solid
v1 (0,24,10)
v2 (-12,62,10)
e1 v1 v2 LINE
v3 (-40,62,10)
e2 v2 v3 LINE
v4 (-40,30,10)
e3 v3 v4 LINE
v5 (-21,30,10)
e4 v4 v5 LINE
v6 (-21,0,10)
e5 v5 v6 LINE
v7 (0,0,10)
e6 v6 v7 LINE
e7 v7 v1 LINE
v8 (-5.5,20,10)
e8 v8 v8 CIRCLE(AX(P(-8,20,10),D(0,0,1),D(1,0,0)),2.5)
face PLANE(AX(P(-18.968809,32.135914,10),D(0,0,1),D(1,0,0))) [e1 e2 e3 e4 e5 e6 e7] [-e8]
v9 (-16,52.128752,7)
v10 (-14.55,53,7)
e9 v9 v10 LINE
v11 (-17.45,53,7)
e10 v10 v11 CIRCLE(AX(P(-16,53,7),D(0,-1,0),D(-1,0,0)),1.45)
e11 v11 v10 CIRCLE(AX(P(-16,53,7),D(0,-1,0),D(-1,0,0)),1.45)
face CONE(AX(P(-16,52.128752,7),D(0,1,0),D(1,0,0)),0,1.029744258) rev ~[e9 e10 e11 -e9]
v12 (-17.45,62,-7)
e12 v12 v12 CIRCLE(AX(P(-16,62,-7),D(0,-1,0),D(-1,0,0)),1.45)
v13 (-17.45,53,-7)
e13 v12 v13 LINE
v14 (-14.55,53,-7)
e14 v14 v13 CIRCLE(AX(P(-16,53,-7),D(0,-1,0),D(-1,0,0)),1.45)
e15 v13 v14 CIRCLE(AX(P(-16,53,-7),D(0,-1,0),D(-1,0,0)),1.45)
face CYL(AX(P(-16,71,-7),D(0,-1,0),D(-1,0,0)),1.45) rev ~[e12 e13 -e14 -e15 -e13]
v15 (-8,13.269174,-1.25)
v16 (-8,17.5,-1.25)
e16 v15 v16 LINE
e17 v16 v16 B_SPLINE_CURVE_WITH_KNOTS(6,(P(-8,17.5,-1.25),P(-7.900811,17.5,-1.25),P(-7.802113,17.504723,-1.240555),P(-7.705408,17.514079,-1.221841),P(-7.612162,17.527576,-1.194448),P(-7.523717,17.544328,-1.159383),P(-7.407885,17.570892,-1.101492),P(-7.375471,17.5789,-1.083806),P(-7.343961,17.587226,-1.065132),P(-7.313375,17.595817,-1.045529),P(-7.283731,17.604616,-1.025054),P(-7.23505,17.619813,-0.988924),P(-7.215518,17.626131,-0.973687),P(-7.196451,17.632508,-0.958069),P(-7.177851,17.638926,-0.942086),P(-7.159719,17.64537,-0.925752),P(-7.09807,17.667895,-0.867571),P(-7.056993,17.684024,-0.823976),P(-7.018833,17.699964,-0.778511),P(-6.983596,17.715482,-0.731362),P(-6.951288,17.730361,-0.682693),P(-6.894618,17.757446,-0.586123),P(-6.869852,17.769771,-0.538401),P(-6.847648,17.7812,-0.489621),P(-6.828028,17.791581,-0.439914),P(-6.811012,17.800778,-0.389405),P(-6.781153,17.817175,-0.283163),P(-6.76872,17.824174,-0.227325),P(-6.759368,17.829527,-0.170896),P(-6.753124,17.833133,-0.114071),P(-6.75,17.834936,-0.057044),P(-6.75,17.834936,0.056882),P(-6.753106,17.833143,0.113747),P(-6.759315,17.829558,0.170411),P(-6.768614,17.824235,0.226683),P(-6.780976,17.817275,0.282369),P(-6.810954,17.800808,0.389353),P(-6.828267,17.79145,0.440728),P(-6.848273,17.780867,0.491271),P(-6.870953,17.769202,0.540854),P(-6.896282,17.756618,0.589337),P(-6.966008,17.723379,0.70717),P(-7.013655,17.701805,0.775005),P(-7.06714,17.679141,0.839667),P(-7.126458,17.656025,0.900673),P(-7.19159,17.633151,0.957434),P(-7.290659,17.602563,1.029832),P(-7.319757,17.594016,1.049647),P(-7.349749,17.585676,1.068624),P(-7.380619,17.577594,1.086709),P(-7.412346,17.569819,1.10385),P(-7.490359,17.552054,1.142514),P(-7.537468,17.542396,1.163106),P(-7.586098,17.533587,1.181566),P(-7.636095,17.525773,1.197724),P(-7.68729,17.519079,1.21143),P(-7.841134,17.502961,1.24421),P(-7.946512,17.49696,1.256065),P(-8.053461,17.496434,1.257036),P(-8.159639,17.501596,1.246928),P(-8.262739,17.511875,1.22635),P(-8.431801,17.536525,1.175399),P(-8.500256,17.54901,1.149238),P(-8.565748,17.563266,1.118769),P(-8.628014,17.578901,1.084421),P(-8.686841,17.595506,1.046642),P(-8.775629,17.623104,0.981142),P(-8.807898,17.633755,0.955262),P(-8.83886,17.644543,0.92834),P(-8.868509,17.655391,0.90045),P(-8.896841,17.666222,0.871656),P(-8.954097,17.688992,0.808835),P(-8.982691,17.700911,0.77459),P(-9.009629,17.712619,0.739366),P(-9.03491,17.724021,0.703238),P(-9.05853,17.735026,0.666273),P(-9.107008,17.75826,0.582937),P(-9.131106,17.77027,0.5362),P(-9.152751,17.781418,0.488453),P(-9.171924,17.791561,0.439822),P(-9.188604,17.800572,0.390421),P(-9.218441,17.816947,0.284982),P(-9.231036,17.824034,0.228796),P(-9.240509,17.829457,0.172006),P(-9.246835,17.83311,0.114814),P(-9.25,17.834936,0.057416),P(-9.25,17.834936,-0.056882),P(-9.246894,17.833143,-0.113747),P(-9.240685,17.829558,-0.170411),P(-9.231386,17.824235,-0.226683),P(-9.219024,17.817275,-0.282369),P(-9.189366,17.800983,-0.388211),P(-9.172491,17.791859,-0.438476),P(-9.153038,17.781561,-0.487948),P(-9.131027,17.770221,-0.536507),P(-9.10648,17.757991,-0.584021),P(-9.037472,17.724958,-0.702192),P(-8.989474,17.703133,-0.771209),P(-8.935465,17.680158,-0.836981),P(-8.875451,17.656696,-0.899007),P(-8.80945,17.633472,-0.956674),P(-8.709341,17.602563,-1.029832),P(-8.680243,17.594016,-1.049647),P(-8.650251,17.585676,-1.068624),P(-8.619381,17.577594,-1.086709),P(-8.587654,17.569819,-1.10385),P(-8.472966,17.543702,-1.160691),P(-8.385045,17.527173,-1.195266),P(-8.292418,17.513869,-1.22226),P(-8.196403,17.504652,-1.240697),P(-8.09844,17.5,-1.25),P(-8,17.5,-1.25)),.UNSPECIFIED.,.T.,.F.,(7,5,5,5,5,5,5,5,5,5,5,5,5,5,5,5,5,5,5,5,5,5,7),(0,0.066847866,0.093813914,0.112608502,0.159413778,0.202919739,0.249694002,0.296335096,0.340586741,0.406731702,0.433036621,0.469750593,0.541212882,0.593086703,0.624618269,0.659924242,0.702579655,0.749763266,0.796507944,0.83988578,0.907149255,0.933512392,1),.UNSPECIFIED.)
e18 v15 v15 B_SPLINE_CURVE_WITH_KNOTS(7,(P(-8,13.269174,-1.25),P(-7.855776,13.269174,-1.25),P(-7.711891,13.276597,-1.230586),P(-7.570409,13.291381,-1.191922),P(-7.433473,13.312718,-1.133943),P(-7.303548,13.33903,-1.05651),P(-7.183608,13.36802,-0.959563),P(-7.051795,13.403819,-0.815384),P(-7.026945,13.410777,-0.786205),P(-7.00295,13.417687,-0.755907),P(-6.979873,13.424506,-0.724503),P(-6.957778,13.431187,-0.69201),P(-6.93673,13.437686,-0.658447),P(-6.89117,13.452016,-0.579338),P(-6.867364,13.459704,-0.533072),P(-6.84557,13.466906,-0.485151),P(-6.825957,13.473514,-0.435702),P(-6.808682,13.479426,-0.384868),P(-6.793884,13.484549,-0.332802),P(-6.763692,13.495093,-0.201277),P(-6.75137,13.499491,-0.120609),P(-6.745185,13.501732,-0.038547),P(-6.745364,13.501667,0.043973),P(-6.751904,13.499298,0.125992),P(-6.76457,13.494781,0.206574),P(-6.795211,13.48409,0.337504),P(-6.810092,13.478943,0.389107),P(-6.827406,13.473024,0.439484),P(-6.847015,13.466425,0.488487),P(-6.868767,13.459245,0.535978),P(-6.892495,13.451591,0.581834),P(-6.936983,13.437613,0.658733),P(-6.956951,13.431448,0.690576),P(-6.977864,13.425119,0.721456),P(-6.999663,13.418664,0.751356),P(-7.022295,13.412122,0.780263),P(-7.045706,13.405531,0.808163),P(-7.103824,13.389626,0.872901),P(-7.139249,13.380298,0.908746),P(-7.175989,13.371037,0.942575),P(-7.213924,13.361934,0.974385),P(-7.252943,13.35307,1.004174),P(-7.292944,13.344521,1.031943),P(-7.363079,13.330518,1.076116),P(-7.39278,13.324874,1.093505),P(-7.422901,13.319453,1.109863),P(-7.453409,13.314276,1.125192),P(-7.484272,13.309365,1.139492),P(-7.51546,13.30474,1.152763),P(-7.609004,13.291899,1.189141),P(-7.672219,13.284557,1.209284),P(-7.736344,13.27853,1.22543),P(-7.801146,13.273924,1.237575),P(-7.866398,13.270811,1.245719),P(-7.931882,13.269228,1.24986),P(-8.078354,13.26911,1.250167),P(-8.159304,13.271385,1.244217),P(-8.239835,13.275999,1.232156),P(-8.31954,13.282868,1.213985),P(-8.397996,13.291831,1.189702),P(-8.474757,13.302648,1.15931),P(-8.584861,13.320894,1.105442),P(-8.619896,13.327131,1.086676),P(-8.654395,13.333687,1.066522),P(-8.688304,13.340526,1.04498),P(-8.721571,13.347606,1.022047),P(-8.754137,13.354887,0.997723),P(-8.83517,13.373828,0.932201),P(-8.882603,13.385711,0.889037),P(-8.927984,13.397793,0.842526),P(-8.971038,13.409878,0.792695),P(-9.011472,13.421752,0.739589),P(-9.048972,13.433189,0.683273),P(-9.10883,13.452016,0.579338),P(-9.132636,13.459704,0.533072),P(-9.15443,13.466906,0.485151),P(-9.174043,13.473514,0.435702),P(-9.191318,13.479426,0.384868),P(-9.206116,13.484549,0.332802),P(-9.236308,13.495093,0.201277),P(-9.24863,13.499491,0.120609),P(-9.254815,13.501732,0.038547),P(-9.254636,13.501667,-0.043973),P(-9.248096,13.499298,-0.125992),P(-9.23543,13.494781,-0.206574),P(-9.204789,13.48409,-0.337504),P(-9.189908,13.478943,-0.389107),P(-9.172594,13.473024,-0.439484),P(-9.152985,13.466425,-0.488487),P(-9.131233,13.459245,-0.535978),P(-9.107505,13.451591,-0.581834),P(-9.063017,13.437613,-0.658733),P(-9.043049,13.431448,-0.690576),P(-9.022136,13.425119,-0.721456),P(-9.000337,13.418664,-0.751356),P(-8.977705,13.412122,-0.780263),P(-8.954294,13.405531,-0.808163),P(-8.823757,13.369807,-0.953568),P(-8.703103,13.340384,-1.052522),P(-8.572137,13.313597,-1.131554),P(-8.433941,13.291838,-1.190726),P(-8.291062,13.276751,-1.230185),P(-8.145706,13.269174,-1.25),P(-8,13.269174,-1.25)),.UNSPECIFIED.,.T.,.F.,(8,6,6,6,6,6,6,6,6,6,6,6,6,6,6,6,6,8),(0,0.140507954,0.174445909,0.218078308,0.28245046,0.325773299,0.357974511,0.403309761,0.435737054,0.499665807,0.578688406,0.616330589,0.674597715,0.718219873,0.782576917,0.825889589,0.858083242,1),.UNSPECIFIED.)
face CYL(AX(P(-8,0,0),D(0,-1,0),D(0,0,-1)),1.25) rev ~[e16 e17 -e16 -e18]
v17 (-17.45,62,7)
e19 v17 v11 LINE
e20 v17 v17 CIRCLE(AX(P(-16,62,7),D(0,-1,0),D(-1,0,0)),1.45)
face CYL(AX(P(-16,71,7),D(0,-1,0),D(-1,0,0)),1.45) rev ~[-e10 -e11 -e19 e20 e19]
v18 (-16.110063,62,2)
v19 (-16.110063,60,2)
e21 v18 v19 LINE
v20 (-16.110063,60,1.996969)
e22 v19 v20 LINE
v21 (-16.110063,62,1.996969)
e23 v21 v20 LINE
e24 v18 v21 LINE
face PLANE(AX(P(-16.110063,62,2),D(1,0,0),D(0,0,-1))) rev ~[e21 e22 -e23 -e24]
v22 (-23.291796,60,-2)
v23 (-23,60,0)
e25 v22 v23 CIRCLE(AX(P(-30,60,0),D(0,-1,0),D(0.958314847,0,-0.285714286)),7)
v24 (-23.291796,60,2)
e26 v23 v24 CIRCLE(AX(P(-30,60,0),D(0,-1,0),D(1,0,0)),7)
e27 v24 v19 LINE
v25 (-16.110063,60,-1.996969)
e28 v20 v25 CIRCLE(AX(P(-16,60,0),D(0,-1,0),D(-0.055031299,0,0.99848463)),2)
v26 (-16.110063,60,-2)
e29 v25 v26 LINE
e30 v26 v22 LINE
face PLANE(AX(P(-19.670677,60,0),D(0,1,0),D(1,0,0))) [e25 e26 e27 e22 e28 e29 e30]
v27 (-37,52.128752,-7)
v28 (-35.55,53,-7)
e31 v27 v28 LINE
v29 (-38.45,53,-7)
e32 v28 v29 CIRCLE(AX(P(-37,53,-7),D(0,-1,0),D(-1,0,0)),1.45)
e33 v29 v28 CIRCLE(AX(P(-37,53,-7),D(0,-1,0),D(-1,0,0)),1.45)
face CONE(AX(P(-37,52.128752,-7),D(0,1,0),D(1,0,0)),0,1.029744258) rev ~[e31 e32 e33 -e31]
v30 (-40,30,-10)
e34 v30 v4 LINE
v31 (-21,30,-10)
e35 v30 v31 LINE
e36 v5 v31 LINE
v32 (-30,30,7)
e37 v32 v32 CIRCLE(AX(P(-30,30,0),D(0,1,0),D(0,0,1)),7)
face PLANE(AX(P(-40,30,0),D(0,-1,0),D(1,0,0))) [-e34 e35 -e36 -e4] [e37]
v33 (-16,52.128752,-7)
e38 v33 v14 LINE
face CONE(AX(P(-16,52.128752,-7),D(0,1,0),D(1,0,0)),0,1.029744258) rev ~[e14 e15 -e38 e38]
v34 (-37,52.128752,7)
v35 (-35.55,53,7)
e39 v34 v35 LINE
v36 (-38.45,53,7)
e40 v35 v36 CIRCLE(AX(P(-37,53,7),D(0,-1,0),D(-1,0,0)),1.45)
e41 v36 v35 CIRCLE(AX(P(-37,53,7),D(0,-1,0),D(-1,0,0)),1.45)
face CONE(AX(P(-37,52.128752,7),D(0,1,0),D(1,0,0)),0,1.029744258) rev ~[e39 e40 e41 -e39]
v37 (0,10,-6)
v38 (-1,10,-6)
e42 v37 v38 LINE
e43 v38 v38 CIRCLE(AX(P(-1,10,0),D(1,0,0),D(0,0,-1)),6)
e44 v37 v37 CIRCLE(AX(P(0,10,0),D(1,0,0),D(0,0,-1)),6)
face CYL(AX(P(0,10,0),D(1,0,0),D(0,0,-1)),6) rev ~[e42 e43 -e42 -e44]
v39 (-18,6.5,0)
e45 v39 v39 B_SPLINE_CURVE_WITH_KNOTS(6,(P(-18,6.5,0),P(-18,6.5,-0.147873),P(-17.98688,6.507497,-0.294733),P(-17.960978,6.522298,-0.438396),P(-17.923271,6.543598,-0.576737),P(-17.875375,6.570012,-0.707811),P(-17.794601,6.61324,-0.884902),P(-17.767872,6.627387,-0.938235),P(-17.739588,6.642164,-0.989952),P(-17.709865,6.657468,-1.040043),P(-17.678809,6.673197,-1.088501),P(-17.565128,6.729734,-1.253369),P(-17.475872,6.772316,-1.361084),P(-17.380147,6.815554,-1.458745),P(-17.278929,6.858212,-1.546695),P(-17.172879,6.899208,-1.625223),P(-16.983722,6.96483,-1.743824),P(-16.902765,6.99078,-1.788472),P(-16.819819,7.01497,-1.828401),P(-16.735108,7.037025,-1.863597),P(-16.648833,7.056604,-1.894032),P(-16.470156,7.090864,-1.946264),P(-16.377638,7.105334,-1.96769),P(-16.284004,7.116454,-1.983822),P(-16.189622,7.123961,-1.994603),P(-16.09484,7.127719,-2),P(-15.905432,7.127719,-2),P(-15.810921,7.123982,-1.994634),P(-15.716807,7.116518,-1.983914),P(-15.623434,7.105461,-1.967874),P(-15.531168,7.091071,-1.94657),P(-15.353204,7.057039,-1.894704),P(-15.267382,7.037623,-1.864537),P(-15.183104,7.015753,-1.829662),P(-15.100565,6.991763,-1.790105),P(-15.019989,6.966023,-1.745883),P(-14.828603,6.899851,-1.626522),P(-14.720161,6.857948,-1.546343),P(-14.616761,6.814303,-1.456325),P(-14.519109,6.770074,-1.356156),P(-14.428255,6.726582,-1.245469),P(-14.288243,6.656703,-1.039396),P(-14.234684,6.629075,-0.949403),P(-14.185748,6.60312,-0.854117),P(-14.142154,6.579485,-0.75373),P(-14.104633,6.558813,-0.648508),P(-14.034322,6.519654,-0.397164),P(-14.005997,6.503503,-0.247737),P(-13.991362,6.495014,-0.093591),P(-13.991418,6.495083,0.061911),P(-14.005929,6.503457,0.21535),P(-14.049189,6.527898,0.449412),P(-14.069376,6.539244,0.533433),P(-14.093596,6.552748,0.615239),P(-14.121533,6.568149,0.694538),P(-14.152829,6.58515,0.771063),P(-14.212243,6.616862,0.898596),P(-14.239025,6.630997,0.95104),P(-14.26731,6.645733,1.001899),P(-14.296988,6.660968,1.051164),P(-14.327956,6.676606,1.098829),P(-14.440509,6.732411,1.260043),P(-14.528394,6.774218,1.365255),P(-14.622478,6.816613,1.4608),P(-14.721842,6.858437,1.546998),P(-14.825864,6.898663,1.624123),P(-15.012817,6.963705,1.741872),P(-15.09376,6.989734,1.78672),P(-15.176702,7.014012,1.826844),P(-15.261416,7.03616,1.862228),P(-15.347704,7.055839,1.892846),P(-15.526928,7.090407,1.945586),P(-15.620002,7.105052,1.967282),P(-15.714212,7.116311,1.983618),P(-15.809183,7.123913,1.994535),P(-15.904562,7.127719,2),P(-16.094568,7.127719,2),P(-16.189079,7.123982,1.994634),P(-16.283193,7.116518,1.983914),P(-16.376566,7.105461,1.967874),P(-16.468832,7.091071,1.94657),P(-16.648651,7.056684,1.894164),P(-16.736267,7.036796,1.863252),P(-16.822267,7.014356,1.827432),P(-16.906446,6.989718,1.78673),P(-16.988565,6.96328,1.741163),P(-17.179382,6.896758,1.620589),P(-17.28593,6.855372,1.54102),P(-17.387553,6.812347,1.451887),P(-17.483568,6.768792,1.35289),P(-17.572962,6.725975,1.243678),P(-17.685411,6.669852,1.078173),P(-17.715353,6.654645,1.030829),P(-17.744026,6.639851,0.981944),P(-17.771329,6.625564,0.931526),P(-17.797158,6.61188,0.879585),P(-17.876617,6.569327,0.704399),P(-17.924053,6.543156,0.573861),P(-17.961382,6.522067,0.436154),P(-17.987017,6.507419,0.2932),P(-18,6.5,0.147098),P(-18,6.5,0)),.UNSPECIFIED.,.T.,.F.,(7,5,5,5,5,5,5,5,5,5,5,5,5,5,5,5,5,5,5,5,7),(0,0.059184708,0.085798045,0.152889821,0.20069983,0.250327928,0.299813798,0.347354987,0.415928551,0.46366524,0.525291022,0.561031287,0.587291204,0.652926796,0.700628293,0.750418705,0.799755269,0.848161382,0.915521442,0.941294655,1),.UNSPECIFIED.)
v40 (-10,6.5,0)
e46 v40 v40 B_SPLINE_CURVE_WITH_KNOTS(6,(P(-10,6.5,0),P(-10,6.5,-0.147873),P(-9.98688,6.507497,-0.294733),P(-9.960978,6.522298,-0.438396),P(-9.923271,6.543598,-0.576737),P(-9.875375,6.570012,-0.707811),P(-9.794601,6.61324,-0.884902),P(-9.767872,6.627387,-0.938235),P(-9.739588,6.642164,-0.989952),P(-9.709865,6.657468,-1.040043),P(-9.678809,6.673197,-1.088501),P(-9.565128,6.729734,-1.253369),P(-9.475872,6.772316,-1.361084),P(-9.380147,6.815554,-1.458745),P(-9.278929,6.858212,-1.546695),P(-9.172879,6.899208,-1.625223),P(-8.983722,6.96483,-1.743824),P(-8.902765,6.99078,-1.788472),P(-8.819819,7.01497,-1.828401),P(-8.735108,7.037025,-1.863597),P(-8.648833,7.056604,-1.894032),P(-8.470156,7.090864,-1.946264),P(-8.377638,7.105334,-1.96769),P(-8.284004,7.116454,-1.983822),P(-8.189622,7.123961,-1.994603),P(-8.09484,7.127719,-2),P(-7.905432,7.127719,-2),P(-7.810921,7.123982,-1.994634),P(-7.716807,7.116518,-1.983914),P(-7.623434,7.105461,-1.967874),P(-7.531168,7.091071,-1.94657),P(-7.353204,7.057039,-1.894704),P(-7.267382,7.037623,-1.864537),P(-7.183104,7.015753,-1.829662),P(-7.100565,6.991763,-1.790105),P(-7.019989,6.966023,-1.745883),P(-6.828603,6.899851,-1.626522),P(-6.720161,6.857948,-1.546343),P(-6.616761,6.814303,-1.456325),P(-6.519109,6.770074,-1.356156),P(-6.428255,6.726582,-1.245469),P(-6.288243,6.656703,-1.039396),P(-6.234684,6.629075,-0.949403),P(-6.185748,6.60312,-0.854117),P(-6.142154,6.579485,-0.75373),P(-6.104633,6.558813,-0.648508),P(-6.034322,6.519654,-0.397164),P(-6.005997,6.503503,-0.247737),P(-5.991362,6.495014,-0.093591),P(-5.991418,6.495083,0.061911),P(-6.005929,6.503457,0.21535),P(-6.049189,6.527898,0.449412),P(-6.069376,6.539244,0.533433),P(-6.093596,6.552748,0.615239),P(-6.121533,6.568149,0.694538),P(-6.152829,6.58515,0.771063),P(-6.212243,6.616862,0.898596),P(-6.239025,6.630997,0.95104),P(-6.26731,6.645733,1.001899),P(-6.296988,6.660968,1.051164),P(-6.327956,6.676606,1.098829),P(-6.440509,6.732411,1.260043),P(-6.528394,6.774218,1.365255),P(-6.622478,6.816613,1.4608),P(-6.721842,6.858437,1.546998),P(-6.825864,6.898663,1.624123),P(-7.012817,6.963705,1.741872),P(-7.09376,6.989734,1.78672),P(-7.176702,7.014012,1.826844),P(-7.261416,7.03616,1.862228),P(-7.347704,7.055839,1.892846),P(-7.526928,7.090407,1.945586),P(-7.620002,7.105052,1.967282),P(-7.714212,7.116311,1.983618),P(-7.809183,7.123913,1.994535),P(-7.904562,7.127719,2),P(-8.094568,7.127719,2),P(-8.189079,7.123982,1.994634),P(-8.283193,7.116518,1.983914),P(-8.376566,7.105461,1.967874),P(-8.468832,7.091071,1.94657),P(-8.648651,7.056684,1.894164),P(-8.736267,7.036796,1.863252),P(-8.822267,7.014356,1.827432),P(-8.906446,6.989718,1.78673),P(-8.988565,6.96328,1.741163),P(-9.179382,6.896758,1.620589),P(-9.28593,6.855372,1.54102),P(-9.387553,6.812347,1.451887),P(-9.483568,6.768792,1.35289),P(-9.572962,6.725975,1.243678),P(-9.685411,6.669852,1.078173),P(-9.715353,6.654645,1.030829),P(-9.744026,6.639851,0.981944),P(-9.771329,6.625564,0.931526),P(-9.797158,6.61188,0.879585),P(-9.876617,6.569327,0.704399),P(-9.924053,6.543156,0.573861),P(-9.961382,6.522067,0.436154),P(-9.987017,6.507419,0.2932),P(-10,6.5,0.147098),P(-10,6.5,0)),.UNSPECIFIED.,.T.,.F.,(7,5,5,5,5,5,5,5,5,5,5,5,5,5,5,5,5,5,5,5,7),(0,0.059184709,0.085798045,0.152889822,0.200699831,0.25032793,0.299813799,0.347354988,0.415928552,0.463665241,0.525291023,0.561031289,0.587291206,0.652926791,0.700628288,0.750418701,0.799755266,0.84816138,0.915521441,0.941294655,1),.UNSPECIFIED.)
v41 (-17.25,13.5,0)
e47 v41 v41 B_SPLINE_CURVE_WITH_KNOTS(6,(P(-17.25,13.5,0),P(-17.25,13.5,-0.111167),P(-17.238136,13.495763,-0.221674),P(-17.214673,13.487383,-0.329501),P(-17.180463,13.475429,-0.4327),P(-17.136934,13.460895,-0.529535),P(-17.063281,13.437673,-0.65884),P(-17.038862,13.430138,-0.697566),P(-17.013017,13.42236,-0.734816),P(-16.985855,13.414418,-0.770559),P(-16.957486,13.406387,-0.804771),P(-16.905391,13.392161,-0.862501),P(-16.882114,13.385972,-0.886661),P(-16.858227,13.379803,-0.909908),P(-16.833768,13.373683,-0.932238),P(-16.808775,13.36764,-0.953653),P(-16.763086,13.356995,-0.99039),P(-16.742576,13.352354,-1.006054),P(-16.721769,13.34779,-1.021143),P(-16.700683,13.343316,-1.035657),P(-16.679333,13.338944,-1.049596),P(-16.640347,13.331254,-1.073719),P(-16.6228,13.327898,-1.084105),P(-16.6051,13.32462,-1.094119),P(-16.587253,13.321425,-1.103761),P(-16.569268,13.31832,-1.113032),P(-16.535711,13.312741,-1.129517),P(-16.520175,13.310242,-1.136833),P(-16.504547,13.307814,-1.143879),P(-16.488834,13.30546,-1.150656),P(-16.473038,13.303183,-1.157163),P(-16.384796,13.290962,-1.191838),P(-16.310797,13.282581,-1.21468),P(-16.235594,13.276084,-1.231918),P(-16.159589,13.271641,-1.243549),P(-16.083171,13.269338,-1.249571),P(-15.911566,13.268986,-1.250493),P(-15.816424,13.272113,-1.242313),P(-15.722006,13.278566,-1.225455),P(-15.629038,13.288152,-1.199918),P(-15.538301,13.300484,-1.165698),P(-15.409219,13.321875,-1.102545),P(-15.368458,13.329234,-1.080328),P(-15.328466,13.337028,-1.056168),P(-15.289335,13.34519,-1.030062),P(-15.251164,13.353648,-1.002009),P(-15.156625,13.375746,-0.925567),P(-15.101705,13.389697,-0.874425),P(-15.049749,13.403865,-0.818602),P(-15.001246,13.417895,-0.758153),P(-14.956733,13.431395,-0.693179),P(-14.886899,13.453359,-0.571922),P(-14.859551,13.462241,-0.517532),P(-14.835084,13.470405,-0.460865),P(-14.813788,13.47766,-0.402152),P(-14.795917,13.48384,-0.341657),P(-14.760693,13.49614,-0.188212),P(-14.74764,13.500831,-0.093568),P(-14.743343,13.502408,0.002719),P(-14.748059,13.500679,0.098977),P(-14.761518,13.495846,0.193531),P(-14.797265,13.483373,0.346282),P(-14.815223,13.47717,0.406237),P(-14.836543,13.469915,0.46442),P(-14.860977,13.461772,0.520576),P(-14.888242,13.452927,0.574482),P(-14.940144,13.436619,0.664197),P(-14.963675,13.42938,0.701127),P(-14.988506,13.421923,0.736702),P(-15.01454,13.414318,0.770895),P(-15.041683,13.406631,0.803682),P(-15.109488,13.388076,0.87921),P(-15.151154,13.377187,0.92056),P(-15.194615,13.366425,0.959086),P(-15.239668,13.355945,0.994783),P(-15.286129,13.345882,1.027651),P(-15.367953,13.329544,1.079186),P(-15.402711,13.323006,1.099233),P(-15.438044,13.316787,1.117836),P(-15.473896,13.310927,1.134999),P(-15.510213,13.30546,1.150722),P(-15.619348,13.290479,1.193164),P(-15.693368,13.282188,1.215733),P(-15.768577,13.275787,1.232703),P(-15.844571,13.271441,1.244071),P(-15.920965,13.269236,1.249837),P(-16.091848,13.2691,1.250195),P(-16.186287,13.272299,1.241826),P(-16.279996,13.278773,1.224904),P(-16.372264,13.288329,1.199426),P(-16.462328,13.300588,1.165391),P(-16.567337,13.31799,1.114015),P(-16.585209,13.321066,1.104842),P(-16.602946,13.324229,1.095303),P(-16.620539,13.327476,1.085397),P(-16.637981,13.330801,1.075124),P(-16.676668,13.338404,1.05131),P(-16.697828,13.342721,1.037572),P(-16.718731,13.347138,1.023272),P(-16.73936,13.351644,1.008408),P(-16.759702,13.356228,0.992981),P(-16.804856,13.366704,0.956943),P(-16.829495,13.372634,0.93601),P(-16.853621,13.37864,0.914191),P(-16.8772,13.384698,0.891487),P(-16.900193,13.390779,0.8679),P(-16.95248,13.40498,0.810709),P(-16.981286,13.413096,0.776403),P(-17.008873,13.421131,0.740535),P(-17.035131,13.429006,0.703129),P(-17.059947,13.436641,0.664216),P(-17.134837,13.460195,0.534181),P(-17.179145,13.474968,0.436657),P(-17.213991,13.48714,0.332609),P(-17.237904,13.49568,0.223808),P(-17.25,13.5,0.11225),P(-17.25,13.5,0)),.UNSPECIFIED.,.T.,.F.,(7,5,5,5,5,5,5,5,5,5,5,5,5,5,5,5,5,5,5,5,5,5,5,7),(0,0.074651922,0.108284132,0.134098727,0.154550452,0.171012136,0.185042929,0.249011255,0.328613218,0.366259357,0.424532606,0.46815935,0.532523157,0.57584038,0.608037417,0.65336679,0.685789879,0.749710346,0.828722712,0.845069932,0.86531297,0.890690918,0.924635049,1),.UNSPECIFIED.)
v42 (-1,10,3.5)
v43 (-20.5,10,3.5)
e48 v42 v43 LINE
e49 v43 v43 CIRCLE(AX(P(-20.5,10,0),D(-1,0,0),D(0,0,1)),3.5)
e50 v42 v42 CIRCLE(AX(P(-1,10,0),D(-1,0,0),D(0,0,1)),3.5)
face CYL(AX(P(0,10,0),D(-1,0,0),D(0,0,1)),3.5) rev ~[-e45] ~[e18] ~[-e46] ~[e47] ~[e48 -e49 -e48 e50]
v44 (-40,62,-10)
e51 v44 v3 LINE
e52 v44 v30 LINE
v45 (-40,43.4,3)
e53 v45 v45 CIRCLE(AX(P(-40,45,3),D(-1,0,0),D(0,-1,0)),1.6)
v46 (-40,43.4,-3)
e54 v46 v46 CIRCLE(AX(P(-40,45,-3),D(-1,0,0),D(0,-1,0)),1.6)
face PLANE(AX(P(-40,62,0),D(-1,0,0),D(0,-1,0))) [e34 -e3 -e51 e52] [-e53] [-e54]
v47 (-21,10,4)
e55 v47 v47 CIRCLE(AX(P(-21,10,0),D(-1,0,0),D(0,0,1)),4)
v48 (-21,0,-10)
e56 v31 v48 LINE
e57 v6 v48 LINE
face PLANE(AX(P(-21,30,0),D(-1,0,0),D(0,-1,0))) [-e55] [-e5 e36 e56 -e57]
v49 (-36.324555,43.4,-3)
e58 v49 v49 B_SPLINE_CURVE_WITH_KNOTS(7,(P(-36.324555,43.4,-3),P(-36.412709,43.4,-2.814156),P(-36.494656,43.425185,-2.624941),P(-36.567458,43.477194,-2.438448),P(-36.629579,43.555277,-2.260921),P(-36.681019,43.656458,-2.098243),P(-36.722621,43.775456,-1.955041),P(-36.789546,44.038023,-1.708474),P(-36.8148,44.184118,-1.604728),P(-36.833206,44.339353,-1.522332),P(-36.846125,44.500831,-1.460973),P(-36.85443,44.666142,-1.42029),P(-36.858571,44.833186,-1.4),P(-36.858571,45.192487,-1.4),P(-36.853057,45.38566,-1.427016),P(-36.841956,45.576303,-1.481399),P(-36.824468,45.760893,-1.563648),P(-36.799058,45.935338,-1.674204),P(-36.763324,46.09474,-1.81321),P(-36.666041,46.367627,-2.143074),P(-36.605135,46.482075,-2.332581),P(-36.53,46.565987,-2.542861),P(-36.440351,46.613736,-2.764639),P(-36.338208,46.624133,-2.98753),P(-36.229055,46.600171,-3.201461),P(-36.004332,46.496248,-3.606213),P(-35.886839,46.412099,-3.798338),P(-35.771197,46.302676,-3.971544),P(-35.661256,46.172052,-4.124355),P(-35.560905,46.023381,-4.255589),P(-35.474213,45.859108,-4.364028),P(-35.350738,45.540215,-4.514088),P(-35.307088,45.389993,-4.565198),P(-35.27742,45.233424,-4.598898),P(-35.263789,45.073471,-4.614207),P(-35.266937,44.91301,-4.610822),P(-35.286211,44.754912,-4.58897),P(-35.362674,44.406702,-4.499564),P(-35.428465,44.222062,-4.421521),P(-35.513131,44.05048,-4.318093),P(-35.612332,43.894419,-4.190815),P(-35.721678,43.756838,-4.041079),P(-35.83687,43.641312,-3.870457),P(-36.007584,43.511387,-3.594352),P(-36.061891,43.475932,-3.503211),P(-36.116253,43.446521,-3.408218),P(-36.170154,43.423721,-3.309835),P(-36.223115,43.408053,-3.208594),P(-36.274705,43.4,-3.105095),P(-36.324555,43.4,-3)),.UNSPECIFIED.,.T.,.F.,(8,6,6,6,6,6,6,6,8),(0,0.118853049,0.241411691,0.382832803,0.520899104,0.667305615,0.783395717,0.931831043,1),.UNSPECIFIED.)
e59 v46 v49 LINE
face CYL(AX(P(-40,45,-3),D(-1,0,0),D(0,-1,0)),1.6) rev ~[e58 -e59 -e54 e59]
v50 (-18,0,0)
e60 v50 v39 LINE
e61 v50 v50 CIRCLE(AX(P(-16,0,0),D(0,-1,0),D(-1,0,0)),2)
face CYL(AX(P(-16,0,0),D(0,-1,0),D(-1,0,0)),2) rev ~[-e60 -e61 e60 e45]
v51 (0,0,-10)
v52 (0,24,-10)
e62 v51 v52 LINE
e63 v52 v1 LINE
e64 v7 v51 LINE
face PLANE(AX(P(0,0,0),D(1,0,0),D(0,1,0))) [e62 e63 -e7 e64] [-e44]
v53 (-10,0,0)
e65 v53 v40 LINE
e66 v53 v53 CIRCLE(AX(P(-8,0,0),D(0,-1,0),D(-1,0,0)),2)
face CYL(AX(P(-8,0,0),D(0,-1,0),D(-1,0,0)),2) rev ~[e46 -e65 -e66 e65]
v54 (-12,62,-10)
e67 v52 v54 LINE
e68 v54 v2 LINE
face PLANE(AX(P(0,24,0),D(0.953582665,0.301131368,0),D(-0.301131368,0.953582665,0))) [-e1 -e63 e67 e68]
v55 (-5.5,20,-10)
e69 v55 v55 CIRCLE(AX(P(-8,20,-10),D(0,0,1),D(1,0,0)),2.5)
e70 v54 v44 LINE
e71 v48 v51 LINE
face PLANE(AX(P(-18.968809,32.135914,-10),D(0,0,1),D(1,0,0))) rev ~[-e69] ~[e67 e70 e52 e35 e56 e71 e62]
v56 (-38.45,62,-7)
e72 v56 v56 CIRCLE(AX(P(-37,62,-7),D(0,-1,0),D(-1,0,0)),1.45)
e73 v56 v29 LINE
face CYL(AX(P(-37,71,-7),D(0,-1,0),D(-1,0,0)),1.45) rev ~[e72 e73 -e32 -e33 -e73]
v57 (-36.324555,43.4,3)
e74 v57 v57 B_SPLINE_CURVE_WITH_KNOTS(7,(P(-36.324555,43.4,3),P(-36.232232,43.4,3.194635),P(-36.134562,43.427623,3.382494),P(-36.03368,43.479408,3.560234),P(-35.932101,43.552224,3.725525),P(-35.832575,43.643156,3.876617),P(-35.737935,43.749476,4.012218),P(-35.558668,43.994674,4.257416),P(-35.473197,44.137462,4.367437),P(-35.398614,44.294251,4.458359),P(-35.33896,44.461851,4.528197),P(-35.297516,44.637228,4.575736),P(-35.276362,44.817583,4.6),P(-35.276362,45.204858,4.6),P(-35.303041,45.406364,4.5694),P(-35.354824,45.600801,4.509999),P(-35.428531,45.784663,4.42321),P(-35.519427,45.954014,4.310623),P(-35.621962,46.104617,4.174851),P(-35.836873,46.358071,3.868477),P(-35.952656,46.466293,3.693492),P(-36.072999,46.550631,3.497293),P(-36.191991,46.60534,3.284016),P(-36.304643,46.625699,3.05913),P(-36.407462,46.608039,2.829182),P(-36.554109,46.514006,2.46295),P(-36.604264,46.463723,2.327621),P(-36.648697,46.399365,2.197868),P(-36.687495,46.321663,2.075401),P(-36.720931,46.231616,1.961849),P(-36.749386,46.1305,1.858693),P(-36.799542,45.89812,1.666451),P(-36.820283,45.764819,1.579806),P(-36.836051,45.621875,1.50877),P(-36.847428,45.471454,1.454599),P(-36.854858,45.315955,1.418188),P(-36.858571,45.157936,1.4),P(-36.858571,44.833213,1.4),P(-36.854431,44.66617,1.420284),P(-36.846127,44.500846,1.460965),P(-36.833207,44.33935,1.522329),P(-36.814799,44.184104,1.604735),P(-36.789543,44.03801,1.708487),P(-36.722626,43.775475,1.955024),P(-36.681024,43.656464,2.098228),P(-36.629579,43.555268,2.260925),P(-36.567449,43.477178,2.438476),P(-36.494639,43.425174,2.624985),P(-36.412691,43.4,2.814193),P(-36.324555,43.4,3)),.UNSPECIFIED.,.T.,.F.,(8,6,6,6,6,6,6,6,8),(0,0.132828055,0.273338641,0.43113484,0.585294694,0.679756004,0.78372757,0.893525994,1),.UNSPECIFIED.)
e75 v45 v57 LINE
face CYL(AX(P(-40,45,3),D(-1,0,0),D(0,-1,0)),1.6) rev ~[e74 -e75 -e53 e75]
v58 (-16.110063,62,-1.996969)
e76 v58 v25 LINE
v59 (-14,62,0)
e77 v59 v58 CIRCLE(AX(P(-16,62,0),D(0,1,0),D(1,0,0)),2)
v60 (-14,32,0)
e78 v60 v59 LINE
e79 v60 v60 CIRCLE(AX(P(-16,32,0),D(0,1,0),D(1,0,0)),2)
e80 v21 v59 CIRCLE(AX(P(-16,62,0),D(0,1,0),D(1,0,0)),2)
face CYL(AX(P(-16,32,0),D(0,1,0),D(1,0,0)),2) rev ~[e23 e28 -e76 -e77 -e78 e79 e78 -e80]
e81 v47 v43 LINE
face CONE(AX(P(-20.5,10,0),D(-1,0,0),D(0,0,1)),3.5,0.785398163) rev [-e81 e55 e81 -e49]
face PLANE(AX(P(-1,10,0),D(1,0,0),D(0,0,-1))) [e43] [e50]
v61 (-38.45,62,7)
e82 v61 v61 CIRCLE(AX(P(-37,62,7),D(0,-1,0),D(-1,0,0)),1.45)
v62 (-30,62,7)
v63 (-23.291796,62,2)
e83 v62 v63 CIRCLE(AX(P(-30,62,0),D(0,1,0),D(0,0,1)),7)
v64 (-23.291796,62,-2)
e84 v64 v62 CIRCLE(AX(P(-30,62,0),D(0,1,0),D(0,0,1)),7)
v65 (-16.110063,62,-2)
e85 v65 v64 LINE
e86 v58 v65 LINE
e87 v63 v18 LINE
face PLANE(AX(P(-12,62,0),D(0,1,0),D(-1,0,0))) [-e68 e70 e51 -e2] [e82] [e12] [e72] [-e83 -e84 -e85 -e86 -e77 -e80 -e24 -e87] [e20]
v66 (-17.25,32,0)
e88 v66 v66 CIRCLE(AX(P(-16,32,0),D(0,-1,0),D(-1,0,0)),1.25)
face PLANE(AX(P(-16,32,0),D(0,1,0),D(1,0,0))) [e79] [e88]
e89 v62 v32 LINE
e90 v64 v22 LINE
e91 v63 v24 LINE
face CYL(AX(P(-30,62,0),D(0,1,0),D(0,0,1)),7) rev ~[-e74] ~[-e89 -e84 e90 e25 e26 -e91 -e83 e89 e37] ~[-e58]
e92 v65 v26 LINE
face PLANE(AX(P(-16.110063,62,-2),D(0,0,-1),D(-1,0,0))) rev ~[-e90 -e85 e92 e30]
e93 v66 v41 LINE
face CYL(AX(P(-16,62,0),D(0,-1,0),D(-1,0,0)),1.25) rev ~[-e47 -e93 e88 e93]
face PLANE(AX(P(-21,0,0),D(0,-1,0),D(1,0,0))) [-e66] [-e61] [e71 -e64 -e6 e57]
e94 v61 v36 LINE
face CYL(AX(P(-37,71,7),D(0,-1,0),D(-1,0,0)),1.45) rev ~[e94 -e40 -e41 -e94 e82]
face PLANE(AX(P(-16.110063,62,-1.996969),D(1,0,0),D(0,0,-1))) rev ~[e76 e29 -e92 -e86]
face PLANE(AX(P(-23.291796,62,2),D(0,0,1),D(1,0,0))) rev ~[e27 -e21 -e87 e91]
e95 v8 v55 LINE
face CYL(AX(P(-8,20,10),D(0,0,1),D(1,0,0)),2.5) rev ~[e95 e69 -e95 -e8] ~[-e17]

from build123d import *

# Parameters (mm, degrees)
BOSS_EXTRUDE1_DEPTH                                  = 10
CUT_EXTRUDE1_REACH                                   = 76.458
SKETCH2_R                                            = 7
CSK_FOR_M8_FLAT_HEAD_MACHINE_SCREW1_D                = 7
CSK_FOR_M8_FLAT_HEAD_MACHINE_SCREW1_CSINK_D          = 8
CSK_FOR_M8_FLAT_HEAD_MACHINE_SCREW1_CSINK_ANGLE      = 90
M4X0_7_TAPPED_HOLE1_REACH                            = 76.458
M4X0_7_TAPPED_HOLE1_BORE_R                           = 2
CUT_EXTRUDE2_REACH                                   = 78.446
SKETCH8_R                                            = 2.5
CUT_EXTRUDE3_REACH                                   = 76.458
CUT_EXTRUDE3_END_RADIUS                              = 2.5
SKETCH9_R                                            = 1.25
TAP_DRILL_FOR_M3_5X0_6_TAP1_D                        = 2.9
TAP_DRILL_FOR_M3_5X0_6_TAP1_DEPTH                    = 9
TAP_DRILL_FOR_M3_5X0_6_TAP1_TIP                      = 0.871247898
CUT_EXTRUDE4_REACH                                   = 76.458
CUT_EXTRUDE4_END_RADIUS                              = 7
SKETCH14_R                                           = 1.6
CBORE_FOR_M4_CROSS_RECESS_PAN_HEAD_SCREW_D           = 2.5
CBORE_FOR_M4_CROSS_RECESS_PAN_HEAD_SCREW_CBORE_D     = 4
CBORE_FOR_M4_CROSS_RECESS_PAN_HEAD_SCREW_CBORE_DEPTH = 30
CUT_EXTRUDE5_DEPTH                                   = 2
SKETCH18_R                                           = 6
CUT_EXTRUDE6_DEPTH                                   = 1
CHAMFER1_SIZE                                        = 0.5


with BuildPart() as part:
    # Sketch1 → Boss-Extrude1 (new, symmetric)
    with BuildSketch(Plane.XY):
        Polygon((0, 0), (0, 24), (-12, 62), (-40, 62), (-40, 30), (-21, 30), (-21, 0), align=None)
    extrude(amount=BOSS_EXTRUDE1_DEPTH, both=True)

    # Sketch2 → Cut-Extrude1 (cut, up to next)
    with BuildSketch(Plane(origin=(0, 62, 0), x_dir=(1, 0, 0), z_dir=(0, 1, 0)), mode=Mode.PRIVATE) as cut_extrude1_sk1:
        with Locations(Location((-30, 0, 0), (0, 0, 270))):
            Circle(SKETCH2_R)
    cut_extrude1_tool1 = extrude(cut_extrude1_sk1.sketch, amount=-CUT_EXTRUDE1_REACH, mode=Mode.PRIVATE) & part.part
    add(cut_extrude1_tool1.solids().sort_by_distance((-30, 62, 0))[0], mode=Mode.SUBTRACT)

    # CSK for M8 Flat Head Machine Screw1 (through all)
    with Locations(Plane(origin=(0, 0, 0), x_dir=(0, 0, -1), z_dir=(1, 0, 0))):
        with Locations((0, 10)):
            CounterSinkHole(CSK_FOR_M8_FLAT_HEAD_MACHINE_SCREW1_D / 2, CSK_FOR_M8_FLAT_HEAD_MACHINE_SCREW1_CSINK_D / 2, counter_sink_angle=CSK_FOR_M8_FLAT_HEAD_MACHINE_SCREW1_CSINK_ANGLE)

    # M4x0.7 Tapped Hole1 bore → M4x0.7 Tapped Hole1 (cut, up to next)
    with BuildSketch(Plane(origin=(0, 0, 0), x_dir=(-1, 0, 0), z_dir=(0, -1, 0)), mode=Mode.PRIVATE) as m4x0_7_tapped_hole1_sk1:
        with Locations((8, 0)):
            Circle(M4X0_7_TAPPED_HOLE1_BORE_R)
    m4x0_7_tapped_hole1_tool1 = extrude(m4x0_7_tapped_hole1_sk1.sketch, amount=-M4X0_7_TAPPED_HOLE1_REACH, mode=Mode.PRIVATE) & part.part
    # M4x0.7 Tapped Hole1 bore → M4x0.7 Tapped Hole1 (cut, up to next)
    with BuildSketch(Plane(origin=(0, 0, 0), x_dir=(-1, 0, 0), z_dir=(0, -1, 0)), mode=Mode.PRIVATE) as m4x0_7_tapped_hole1_sk2:
        with Locations((16, 0)):
            Circle(M4X0_7_TAPPED_HOLE1_BORE_R)
    m4x0_7_tapped_hole1_tool2 = extrude(m4x0_7_tapped_hole1_sk2.sketch, amount=-M4X0_7_TAPPED_HOLE1_REACH, mode=Mode.PRIVATE) & part.part
    add(m4x0_7_tapped_hole1_tool1.solids().sort_by_distance((-8, 0, 0))[0], mode=Mode.SUBTRACT)
    add(m4x0_7_tapped_hole1_tool2.solids().sort_by_distance((-16, 0, 0))[0], mode=Mode.SUBTRACT)

    # Sketch8 → Cut-Extrude2 (cut, up to next)
    with BuildSketch(Plane.XY.offset(10), mode=Mode.PRIVATE) as cut_extrude2_sk1:
        with Locations((-8, 20)):
            Circle(SKETCH8_R)
    cut_extrude2_tool1 = extrude(cut_extrude2_sk1.sketch, amount=-CUT_EXTRUDE2_REACH, mode=Mode.PRIVATE) & part.part
    add(cut_extrude2_tool1.solids().sort_by_distance((-8, 20, 10))[0], mode=Mode.SUBTRACT)

    # Cut-Extrude3: up to this cylinder (the profile starts outside it)
    cut_extrude3_end = Plane(origin=(-8, 20, 0), z_dir=(0, 0, 1)) * Cylinder(CUT_EXTRUDE3_END_RADIUS, 158.916, mode=Mode.PRIVATE)
    # Sketch9 → Cut-Extrude3 (cut, up to the surface)
    with BuildSketch(Plane.XZ, mode=Mode.PRIVATE) as cut_extrude3_sk1:
        with Locations(Location((-8, 0, 0), (0, 0, 270))):
            Circle(SKETCH9_R)
    cut_extrude3_tool1 = extrude(cut_extrude3_sk1.sketch, amount=-CUT_EXTRUDE3_REACH, mode=Mode.PRIVATE) - cut_extrude3_end
    add(cut_extrude3_tool1.solids().sort_by_distance((-8, 0, 0))[0], mode=Mode.SUBTRACT)

    # Tap Drill for M3.5x0.6 Tap1
    with Locations(Plane(origin=(0, 62, 0), x_dir=(1, 0, 0), z_dir=(0, 1, 0))):
        with Locations((-37, 7), (-16, 7), (-16, -7), (-37, -7)):
            Hole(TAP_DRILL_FOR_M3_5X0_6_TAP1_D / 2, depth=TAP_DRILL_FOR_M3_5X0_6_TAP1_DEPTH)
            with Locations((0, 0, -(TAP_DRILL_FOR_M3_5X0_6_TAP1_DEPTH + TAP_DRILL_FOR_M3_5X0_6_TAP1_TIP / 2))):  # 118° drill point
                Cone(0, TAP_DRILL_FOR_M3_5X0_6_TAP1_D / 2, TAP_DRILL_FOR_M3_5X0_6_TAP1_TIP, mode=Mode.SUBTRACT)

    # Cut-Extrude4: up to this cylinder (the profile starts outside it)
    cut_extrude4_end = Plane(origin=(-30, 45, 0), z_dir=(0, 1, 0)) * Cylinder(CUT_EXTRUDE4_END_RADIUS, 167.916, mode=Mode.PRIVATE)
    # Sketch14 → Cut-Extrude4 (cut, up to the surface)
    with BuildSketch(Plane.ZY.offset(40), mode=Mode.PRIVATE) as cut_extrude4_sk1:
        with Locations(Location((-3, 45, 0), (0, 0, 270))):
            Circle(SKETCH14_R)
    cut_extrude4_tool1 = extrude(cut_extrude4_sk1.sketch, amount=-CUT_EXTRUDE4_REACH, mode=Mode.PRIVATE) - cut_extrude4_end
    add(cut_extrude4_tool1.solids().sort_by_distance((-40, 45, -3))[0], mode=Mode.SUBTRACT)
    # Sketch14 → Cut-Extrude4 (cut, up to the surface)
    with BuildSketch(Plane.ZY.offset(40), mode=Mode.PRIVATE) as cut_extrude4_sk2:
        with Locations(Location((3, 45, 0), (0, 0, 270))):
            Circle(SKETCH14_R)
    cut_extrude4_tool2 = extrude(cut_extrude4_sk2.sketch, amount=-CUT_EXTRUDE4_REACH, mode=Mode.PRIVATE) - cut_extrude4_end
    add(cut_extrude4_tool2.solids().sort_by_distance((-40, 45, 3))[0], mode=Mode.SUBTRACT)

    # CBORE for M4 Cross Recess Pan Head Screw1 (through all)
    with Locations(Plane(origin=(0, 62, 0), x_dir=(1, 0, 0), z_dir=(0, 1, 0))):
        with Locations((-16, 0)):
            CounterBoreHole(CBORE_FOR_M4_CROSS_RECESS_PAN_HEAD_SCREW_D / 2, CBORE_FOR_M4_CROSS_RECESS_PAN_HEAD_SCREW_CBORE_D / 2, CBORE_FOR_M4_CROSS_RECESS_PAN_HEAD_SCREW_CBORE_DEPTH)

    # Sketch17 → Cut-Extrude5 (cut)
    with BuildSketch(Plane(origin=(0, 62, 0), x_dir=(1, 0, 0), z_dir=(0, 1, 0))):
        with BuildLine():
            Line((-16.110062598, 1.99696926), (-16.110062598, 2))
            Line((-16.110062598, 2), (-23.291796068, 2))
            ThreePointArc((-23.291796068, 2), (-23.073333142, 1.010587075), (-23, 0))
            ThreePointArc((-23, 0), (-23.073333142, -1.010587075), (-23.291796068, -2))
            Line((-23.291796068, -2), (-16.110062598, -2))
            Line((-16.110062598, -2), (-16.110062598, -1.99696926))
            ThreePointArc((-16.110062598, -1.99696926), (-18, 0), (-16.110062598, 1.99696926))
        make_face()
    extrude(amount=-CUT_EXTRUDE5_DEPTH, mode=Mode.SUBTRACT)

    # Sketch18 → Cut-Extrude6 (cut)
    with BuildSketch(Plane(origin=(0, 0, 0), x_dir=(0, 0, -1), z_dir=(1, 0, 0))):
        with Locations((0, 10)):
            Circle(SKETCH18_R)
    extrude(amount=-CUT_EXTRUDE6_DEPTH, mode=Mode.SUBTRACT)

    # Chamfer1
    chamfer1_edges = [part.edges().sort_by_distance(p)[0] for p in [
        (-21, 10, -3.5),
    ]]
    chamfer(chamfer1_edges, length=CHAMFER1_SIZE)


solid = part.part
